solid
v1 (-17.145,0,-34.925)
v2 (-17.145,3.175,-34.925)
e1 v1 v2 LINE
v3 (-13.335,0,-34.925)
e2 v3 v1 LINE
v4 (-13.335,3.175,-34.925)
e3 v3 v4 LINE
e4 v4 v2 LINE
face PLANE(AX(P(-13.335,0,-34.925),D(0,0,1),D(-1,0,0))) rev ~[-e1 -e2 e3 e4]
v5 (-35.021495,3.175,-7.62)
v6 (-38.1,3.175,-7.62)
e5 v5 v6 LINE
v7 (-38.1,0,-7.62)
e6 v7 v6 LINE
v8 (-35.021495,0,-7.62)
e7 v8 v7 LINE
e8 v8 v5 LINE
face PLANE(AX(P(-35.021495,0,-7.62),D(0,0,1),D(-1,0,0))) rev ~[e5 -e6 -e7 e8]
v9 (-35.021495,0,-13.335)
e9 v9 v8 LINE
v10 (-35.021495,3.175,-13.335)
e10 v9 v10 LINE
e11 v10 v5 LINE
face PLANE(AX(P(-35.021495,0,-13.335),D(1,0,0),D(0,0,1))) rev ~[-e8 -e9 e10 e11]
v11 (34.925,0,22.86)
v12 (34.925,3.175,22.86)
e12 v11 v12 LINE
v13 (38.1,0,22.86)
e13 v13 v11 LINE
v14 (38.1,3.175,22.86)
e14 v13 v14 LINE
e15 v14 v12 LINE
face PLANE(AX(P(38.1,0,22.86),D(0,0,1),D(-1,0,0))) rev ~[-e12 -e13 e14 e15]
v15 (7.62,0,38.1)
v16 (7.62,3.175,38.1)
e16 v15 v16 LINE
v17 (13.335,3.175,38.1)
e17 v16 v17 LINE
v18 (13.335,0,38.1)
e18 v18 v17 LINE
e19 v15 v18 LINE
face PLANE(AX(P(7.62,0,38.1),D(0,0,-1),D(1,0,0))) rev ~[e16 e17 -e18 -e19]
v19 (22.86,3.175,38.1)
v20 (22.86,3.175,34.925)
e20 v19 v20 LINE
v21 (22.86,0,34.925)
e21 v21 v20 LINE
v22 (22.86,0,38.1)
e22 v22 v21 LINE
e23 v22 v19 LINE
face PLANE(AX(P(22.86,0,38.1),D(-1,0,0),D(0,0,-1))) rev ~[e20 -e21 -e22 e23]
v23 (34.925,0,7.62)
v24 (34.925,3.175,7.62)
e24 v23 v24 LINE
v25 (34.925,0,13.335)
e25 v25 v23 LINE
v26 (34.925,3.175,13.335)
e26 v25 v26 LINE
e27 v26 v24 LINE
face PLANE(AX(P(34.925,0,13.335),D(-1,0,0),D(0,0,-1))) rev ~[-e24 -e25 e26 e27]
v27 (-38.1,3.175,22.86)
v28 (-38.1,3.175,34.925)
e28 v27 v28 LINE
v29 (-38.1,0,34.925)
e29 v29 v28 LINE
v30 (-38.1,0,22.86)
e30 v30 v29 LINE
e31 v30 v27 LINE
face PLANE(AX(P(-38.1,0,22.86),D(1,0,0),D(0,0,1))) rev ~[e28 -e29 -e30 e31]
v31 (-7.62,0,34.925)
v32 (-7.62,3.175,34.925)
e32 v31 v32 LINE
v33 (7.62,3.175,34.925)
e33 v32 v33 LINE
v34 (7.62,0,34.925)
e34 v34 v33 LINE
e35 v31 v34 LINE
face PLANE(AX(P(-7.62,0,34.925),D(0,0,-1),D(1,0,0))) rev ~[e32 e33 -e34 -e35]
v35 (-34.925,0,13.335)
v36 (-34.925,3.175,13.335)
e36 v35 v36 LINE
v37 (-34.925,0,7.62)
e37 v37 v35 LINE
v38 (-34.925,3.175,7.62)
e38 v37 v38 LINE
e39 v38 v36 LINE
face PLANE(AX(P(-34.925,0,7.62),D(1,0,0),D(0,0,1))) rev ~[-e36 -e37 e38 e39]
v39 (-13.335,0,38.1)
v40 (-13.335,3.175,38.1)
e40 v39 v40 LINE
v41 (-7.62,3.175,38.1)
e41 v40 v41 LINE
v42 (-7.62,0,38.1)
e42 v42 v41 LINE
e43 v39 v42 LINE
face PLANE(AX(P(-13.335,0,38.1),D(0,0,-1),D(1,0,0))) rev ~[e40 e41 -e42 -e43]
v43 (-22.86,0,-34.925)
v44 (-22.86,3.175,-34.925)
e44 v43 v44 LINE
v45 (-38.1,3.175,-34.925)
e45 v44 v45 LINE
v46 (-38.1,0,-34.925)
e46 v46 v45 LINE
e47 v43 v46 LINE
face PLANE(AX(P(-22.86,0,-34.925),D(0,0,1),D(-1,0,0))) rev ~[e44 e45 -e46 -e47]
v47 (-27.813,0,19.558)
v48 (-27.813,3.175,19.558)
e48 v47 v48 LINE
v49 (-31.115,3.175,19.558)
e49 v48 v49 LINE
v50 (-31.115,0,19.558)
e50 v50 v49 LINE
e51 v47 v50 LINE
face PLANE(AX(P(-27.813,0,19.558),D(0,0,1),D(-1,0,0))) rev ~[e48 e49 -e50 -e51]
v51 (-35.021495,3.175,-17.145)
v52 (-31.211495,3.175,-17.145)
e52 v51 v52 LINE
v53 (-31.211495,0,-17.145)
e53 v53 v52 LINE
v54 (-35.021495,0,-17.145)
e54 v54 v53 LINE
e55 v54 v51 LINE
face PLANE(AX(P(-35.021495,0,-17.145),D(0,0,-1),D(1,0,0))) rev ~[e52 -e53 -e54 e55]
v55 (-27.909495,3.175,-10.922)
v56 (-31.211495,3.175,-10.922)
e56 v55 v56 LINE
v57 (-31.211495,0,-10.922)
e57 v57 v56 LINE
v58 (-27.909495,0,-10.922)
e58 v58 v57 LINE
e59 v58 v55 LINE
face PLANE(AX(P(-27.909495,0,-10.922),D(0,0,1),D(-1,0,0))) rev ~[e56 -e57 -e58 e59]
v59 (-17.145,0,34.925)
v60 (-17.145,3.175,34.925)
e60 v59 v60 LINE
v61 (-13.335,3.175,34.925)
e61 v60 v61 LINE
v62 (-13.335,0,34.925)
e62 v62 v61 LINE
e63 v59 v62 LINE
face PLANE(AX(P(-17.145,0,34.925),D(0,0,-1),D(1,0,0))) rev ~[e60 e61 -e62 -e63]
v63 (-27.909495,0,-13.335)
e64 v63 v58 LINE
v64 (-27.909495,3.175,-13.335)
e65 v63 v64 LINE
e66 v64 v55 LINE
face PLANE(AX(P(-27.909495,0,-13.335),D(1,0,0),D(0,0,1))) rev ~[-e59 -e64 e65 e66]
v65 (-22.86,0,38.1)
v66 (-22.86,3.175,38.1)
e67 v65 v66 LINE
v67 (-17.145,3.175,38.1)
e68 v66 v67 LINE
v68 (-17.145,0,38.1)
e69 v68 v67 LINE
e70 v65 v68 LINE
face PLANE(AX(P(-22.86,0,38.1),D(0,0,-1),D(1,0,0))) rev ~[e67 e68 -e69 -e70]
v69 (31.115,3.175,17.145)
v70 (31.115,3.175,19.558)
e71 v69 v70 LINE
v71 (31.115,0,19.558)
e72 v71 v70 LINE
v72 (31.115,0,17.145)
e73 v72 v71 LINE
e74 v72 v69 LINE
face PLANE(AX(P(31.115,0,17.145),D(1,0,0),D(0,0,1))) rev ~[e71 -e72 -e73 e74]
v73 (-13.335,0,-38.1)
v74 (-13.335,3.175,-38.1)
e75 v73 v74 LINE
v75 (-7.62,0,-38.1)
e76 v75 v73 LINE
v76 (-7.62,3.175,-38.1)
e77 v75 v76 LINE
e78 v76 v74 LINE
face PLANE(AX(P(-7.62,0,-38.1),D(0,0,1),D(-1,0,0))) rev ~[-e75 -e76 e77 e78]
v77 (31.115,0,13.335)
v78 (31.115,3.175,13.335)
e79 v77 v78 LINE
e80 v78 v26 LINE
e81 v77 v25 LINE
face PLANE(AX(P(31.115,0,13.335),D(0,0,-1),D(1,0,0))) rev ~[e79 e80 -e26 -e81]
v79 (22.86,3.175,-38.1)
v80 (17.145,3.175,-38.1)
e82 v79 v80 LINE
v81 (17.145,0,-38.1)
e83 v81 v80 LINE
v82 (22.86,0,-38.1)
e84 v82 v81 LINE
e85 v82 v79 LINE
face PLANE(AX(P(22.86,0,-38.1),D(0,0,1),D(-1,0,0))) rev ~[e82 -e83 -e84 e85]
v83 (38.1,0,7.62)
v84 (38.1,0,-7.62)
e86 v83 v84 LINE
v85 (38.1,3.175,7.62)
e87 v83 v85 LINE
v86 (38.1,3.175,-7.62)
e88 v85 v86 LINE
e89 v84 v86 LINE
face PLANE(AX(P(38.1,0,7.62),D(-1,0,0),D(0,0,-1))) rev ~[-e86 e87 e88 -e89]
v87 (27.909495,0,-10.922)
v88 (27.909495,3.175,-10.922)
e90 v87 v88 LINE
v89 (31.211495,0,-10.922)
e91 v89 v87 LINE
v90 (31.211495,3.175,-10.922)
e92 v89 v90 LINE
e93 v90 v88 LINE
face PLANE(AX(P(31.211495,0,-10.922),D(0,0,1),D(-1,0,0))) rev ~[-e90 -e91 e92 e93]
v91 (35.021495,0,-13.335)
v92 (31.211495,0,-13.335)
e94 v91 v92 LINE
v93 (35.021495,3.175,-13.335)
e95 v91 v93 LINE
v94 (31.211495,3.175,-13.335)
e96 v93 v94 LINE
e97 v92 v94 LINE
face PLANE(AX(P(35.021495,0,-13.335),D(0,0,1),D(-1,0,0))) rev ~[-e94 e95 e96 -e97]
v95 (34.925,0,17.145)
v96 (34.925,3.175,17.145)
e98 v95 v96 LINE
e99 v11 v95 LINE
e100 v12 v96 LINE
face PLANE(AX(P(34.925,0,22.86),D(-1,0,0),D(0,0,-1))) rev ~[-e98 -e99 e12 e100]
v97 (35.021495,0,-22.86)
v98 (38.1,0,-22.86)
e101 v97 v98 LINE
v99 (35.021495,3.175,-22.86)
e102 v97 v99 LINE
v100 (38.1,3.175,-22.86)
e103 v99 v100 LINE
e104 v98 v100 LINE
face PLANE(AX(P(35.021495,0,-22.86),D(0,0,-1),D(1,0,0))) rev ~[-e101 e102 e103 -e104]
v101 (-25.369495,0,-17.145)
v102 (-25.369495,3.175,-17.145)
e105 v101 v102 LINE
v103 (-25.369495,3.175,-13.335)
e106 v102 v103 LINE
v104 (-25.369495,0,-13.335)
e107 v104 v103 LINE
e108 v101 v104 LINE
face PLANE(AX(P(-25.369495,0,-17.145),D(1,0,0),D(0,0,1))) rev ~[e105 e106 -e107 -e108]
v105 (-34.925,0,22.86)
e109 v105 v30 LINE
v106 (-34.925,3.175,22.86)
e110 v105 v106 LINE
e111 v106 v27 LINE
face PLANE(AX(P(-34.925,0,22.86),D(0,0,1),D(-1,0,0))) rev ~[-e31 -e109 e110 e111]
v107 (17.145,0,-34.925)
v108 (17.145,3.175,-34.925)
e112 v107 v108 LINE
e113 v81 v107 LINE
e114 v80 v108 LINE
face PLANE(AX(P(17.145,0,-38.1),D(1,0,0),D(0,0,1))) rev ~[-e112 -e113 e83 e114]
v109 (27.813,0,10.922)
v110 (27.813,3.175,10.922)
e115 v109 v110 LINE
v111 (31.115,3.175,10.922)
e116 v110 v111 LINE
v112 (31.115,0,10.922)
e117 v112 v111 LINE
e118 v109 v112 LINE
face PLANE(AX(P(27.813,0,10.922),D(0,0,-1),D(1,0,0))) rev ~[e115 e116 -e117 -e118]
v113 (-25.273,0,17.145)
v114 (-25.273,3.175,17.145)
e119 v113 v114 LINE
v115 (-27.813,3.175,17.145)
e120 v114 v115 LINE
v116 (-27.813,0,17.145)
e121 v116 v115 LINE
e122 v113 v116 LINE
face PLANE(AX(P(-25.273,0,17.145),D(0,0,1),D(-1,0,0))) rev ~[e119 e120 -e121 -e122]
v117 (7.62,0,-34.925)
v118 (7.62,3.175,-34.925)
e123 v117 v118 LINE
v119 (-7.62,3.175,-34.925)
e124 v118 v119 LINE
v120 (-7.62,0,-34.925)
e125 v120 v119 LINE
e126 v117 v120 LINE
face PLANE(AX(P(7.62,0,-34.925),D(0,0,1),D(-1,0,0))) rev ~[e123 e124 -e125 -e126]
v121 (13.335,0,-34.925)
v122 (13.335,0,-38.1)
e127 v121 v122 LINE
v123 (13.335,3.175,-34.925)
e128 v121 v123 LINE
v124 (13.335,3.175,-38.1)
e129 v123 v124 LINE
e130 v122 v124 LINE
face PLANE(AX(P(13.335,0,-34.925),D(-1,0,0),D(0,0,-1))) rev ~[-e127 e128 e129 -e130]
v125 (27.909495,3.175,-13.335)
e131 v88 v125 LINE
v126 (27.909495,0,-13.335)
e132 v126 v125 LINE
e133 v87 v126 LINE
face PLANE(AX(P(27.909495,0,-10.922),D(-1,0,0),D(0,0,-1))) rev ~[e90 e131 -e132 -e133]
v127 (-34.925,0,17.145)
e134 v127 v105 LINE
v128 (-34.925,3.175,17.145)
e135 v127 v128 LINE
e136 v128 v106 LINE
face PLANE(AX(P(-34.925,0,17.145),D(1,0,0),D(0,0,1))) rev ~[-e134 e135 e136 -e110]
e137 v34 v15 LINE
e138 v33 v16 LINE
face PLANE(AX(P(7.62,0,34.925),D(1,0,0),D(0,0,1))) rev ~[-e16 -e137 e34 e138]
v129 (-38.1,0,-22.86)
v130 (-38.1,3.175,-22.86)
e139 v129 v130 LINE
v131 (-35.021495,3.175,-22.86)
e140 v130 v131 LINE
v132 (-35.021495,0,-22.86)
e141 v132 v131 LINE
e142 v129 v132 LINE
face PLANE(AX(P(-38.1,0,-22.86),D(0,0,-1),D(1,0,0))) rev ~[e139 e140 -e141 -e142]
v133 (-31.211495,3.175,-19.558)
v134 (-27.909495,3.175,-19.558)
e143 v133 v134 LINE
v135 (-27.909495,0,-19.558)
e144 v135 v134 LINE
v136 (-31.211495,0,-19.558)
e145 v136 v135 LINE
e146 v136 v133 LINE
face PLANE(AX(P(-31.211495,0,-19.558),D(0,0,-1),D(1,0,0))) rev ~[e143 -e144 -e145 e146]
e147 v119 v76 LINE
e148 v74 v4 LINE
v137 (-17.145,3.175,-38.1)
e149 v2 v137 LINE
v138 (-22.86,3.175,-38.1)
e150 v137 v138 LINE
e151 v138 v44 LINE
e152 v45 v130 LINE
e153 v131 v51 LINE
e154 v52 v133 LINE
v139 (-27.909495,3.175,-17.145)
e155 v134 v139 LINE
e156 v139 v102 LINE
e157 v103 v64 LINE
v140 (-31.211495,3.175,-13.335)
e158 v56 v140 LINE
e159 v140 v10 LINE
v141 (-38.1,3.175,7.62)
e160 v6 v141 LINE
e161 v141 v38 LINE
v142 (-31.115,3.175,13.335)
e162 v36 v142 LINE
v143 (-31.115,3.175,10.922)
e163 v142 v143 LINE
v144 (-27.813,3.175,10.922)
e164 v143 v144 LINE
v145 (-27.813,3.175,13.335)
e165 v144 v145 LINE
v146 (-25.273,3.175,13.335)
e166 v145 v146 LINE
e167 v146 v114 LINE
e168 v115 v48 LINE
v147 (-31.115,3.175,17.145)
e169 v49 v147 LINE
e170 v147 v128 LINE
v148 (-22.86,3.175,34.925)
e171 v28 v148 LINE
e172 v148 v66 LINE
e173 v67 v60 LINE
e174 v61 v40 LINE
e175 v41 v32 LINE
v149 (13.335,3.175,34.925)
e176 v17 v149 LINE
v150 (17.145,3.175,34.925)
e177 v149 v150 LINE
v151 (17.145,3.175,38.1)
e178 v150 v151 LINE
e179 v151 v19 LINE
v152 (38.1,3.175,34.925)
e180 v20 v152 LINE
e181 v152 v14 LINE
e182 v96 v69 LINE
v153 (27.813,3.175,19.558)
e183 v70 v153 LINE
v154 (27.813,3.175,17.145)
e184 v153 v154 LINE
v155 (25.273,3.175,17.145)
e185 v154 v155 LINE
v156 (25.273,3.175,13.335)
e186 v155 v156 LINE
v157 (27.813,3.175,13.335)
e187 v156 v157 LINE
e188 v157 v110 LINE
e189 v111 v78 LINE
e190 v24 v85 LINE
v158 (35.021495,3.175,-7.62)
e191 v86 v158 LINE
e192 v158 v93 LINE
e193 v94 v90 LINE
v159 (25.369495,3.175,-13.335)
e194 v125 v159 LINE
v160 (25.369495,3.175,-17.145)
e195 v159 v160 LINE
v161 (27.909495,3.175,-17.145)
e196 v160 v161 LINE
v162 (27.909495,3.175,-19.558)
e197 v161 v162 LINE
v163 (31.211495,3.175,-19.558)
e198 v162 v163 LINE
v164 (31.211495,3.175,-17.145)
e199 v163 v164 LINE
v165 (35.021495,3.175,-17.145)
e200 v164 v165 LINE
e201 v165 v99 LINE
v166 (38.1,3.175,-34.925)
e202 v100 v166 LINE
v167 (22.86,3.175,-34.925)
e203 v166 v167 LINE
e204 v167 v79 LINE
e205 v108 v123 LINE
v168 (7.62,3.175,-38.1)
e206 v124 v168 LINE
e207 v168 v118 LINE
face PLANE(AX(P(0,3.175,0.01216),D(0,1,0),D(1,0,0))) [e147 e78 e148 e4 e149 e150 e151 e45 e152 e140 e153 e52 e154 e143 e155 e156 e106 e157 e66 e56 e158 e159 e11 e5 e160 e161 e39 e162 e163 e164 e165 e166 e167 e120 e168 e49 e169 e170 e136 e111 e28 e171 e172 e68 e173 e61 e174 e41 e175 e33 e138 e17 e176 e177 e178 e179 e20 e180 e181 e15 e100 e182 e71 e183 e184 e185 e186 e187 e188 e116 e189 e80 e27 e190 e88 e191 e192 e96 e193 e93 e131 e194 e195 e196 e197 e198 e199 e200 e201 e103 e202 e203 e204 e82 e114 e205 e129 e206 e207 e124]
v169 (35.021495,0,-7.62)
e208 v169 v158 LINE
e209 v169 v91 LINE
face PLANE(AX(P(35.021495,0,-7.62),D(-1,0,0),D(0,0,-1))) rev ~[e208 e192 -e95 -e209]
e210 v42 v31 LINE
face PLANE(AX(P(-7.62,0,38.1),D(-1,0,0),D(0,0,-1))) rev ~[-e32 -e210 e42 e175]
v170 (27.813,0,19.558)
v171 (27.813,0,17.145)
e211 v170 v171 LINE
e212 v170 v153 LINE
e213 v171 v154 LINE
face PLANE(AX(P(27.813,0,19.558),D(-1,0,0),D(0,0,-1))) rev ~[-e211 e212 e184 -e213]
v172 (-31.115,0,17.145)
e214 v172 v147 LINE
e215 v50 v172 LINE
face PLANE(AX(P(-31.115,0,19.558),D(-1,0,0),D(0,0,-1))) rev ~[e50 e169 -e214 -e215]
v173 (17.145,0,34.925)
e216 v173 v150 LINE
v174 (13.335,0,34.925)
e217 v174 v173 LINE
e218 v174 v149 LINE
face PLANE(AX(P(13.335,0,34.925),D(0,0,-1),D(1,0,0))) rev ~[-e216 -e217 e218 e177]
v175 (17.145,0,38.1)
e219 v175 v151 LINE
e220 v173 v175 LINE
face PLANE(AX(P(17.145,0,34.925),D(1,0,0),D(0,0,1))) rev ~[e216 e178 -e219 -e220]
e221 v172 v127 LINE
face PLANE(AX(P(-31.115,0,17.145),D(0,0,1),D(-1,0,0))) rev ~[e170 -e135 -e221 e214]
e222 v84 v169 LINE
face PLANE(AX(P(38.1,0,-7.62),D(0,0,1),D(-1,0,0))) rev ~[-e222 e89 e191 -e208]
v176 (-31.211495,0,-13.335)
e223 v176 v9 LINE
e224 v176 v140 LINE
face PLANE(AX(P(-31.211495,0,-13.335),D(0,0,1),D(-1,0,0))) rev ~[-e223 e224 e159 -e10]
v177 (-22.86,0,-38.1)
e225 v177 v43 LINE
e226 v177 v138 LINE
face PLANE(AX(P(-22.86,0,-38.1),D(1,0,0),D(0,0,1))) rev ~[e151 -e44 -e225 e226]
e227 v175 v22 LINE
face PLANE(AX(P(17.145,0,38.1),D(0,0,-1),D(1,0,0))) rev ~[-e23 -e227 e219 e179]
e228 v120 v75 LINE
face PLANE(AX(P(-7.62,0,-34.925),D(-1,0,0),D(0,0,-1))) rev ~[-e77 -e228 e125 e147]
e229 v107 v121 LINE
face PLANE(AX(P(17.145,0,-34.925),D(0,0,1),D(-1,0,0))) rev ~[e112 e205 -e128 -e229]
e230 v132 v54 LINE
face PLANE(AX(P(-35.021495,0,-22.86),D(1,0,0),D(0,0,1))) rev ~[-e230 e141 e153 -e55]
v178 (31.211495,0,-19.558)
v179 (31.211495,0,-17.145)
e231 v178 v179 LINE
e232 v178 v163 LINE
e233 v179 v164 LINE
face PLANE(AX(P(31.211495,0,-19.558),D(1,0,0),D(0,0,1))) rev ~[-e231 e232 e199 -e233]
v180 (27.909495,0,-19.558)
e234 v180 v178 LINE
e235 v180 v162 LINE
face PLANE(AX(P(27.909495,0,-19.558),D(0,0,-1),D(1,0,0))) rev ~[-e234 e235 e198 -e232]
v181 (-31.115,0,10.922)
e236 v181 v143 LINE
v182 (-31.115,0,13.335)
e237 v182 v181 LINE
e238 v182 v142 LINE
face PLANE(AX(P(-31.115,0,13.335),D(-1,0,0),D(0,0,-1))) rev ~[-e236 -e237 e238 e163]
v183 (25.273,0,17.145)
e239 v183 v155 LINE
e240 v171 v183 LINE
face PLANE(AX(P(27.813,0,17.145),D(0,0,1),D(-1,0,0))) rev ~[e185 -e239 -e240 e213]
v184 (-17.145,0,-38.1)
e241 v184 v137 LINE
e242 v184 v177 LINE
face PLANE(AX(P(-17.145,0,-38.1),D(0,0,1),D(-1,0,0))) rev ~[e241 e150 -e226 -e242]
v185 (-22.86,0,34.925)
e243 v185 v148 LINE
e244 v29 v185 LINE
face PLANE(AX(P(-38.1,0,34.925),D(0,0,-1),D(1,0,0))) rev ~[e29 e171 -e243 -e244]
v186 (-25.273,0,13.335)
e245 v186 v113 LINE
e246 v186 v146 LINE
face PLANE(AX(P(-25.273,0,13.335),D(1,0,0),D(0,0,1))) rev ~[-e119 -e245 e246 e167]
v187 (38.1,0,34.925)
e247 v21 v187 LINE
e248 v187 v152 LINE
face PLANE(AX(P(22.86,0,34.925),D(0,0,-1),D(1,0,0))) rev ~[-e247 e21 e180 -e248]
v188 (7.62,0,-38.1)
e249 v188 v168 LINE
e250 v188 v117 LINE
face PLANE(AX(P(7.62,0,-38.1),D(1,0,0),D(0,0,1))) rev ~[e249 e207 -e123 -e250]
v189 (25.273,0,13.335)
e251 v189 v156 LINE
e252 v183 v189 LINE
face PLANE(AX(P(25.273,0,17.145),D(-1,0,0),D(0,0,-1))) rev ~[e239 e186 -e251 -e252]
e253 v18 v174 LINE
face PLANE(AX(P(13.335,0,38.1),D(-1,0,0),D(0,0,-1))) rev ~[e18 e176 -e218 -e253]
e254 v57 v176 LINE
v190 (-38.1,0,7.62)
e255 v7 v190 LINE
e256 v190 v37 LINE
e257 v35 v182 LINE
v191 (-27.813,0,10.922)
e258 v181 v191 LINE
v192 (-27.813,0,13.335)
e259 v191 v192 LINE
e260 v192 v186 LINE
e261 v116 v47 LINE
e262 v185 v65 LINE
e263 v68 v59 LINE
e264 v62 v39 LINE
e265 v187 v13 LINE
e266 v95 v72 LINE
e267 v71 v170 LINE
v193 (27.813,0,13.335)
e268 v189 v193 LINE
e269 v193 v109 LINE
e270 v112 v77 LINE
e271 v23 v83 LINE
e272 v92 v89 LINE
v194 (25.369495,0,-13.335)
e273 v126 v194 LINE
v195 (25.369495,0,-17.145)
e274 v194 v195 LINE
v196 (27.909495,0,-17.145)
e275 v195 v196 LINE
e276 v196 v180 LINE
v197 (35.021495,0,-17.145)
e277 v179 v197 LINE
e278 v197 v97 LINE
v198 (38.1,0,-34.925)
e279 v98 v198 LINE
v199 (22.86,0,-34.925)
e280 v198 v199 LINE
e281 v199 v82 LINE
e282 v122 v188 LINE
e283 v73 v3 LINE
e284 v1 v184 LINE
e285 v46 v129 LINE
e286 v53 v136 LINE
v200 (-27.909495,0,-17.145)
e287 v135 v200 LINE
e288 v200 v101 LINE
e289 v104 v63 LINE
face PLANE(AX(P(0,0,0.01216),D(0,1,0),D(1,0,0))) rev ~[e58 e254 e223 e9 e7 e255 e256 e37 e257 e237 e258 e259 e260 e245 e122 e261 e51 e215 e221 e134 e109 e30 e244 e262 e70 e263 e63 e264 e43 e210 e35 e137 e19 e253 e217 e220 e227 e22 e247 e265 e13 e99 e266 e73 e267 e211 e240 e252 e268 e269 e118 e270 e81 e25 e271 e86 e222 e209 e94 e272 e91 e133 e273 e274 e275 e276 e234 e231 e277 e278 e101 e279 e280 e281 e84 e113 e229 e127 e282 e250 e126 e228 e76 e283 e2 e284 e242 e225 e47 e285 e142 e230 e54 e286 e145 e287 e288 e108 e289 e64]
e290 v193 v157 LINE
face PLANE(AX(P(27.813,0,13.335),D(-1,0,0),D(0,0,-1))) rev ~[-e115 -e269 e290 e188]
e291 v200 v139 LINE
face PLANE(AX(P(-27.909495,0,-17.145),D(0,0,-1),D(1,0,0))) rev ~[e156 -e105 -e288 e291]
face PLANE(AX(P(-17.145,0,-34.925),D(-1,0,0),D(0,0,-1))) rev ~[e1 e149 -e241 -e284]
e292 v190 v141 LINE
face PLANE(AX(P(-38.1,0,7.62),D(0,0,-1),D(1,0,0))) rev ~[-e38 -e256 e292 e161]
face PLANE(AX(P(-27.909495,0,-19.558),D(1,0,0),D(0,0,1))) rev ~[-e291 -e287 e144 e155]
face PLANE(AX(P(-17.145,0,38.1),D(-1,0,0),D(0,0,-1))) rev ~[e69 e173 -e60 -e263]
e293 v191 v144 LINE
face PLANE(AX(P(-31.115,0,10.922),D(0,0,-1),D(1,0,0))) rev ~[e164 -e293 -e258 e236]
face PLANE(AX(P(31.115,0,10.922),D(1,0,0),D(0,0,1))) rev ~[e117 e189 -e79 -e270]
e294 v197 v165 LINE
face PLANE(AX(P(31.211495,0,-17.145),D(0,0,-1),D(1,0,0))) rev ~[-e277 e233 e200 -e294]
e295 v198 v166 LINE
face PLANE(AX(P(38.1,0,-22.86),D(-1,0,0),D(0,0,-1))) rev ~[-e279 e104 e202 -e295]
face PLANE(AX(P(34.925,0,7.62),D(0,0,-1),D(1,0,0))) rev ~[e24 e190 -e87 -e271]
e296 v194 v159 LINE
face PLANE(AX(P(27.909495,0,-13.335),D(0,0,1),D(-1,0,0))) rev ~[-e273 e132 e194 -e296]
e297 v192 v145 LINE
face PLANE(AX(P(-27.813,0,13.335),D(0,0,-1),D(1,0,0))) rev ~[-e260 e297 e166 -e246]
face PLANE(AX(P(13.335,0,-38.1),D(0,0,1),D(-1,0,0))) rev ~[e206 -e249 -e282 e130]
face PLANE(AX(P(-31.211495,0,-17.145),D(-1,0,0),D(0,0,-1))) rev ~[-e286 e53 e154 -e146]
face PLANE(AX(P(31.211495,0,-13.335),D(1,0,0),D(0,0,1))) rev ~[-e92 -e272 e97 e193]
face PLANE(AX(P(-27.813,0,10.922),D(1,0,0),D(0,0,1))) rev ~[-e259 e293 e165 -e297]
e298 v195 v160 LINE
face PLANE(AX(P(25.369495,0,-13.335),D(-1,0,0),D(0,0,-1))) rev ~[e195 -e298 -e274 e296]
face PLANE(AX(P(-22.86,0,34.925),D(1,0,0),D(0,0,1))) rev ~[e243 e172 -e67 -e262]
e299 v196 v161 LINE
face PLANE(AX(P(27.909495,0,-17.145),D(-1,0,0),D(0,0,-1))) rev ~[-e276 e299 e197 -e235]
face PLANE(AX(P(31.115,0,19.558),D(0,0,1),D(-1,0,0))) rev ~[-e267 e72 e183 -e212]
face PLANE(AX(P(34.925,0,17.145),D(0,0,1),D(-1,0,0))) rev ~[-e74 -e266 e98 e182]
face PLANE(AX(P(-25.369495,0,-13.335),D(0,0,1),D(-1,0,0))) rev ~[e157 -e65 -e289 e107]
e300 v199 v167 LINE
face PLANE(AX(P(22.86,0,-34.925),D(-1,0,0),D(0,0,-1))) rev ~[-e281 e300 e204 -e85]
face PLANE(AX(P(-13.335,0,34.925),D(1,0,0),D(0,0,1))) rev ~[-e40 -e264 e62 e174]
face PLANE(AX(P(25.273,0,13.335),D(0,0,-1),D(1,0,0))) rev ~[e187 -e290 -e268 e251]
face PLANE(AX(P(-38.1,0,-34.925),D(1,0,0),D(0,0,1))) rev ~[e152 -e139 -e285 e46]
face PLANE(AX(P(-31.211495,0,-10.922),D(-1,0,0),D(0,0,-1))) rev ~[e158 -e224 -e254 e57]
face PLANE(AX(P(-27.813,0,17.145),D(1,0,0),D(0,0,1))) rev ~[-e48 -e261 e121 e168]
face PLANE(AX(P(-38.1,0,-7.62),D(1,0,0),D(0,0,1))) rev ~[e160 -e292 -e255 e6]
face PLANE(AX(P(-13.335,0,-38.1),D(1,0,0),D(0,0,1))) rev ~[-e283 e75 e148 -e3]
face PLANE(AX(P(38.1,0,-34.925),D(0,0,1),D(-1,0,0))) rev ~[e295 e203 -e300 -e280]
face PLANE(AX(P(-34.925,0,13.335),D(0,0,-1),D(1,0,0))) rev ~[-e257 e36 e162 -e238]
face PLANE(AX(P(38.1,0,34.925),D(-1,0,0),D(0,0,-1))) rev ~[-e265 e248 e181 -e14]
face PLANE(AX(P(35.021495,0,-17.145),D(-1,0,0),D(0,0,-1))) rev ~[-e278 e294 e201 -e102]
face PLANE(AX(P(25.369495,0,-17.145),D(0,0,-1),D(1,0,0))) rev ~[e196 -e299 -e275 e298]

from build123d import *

# Parameters (mm, degrees)
BOSS_EXTRUDE1_DEPTH = 3.175


with BuildPart() as part:
    # Sketch1 → Boss-Extrude1 (new body)
    with BuildSketch(Plane(origin=(0, 0, 0), x_dir=(1, 0, 0), z_dir=(0, 1, 0))):
        Polygon((-27.813, -13.335), (-25.273, -13.335), (-25.273, -17.145), (-27.813, -17.145), (-27.813, -19.558), (-31.115, -19.558), (-31.115, -17.145), (-34.925, -17.145), (-34.925, -22.86), (-38.1, -22.86), (-38.1, -34.925), (-34.925, -34.925), (-22.86, -34.925), (-22.86, -38.1), (-17.145, -38.1), (-17.145, -34.925), (-13.335, -34.925), (-13.335, -38.1), (-7.62, -38.1), (-7.62, -34.925), (7.62, -34.925), (7.62, -38.1), (13.335, -38.1), (13.335, -34.925), (17.145, -34.925), (17.145, -38.1), (22.86, -38.1), (22.86, -34.925), (34.925, -34.925), (38.1, -34.925), (38.1, -22.86), (34.925, -22.86), (34.925, -17.145), (31.115, -17.145), (31.115, -19.558), (27.813, -19.558), (27.813, -17.145), (25.273, -17.145), (25.273, -13.335), (27.813, -13.335), (27.813, -10.922), (31.115, -10.922), (31.115, -13.335), (34.925, -13.335), (34.925, -7.62), (38.1, -7.62), (38.1, 7.62), (35.021495431, 7.62), (35.021495431, 13.335), (31.211495431, 13.335), (31.211495431, 10.922), (27.909495431, 10.922), (27.909495431, 13.335), (25.369495431, 13.335), (25.369495431, 17.145), (27.909495431, 17.145), (27.909495431, 19.558), (31.211495431, 19.558), (31.211495431, 17.145), (35.021495431, 17.145), (35.021495431, 22.86), (38.1, 22.86), (38.1, 34.925), (34.925, 34.925), (22.86, 34.925), (22.86, 38.1), (17.145, 38.1), (17.145, 34.925), (13.335, 34.925), (13.335, 38.1), (7.62, 38.1), (7.62, 34.925), (-7.62, 34.925), (-7.62, 38.1), (-13.335, 38.1), (-13.335, 34.925), (-17.145, 34.925), (-17.145, 38.1), (-22.86, 38.1), (-22.86, 34.925), (-34.925, 34.925), (-38.1, 34.925), (-38.1, 22.86), (-35.021495431, 22.86), (-35.021495431, 17.145), (-31.211495431, 17.145), (-31.211495431, 19.558), (-27.909495431, 19.558), (-27.909495431, 17.145), (-25.369495431, 17.145), (-25.369495431, 13.335), (-27.909495431, 13.335), (-27.909495431, 10.922), (-31.211495431, 10.922), (-31.211495431, 13.335), (-35.021495431, 13.335), (-35.021495431, 7.62), (-38.1, 7.62), (-38.1, -7.62), (-34.925, -7.62), (-34.925, -13.335), (-31.115, -13.335), (-31.115, -10.922), (-27.813, -10.922), align=None)
    extrude(amount=BOSS_EXTRUDE1_DEPTH)


solid = part.part
